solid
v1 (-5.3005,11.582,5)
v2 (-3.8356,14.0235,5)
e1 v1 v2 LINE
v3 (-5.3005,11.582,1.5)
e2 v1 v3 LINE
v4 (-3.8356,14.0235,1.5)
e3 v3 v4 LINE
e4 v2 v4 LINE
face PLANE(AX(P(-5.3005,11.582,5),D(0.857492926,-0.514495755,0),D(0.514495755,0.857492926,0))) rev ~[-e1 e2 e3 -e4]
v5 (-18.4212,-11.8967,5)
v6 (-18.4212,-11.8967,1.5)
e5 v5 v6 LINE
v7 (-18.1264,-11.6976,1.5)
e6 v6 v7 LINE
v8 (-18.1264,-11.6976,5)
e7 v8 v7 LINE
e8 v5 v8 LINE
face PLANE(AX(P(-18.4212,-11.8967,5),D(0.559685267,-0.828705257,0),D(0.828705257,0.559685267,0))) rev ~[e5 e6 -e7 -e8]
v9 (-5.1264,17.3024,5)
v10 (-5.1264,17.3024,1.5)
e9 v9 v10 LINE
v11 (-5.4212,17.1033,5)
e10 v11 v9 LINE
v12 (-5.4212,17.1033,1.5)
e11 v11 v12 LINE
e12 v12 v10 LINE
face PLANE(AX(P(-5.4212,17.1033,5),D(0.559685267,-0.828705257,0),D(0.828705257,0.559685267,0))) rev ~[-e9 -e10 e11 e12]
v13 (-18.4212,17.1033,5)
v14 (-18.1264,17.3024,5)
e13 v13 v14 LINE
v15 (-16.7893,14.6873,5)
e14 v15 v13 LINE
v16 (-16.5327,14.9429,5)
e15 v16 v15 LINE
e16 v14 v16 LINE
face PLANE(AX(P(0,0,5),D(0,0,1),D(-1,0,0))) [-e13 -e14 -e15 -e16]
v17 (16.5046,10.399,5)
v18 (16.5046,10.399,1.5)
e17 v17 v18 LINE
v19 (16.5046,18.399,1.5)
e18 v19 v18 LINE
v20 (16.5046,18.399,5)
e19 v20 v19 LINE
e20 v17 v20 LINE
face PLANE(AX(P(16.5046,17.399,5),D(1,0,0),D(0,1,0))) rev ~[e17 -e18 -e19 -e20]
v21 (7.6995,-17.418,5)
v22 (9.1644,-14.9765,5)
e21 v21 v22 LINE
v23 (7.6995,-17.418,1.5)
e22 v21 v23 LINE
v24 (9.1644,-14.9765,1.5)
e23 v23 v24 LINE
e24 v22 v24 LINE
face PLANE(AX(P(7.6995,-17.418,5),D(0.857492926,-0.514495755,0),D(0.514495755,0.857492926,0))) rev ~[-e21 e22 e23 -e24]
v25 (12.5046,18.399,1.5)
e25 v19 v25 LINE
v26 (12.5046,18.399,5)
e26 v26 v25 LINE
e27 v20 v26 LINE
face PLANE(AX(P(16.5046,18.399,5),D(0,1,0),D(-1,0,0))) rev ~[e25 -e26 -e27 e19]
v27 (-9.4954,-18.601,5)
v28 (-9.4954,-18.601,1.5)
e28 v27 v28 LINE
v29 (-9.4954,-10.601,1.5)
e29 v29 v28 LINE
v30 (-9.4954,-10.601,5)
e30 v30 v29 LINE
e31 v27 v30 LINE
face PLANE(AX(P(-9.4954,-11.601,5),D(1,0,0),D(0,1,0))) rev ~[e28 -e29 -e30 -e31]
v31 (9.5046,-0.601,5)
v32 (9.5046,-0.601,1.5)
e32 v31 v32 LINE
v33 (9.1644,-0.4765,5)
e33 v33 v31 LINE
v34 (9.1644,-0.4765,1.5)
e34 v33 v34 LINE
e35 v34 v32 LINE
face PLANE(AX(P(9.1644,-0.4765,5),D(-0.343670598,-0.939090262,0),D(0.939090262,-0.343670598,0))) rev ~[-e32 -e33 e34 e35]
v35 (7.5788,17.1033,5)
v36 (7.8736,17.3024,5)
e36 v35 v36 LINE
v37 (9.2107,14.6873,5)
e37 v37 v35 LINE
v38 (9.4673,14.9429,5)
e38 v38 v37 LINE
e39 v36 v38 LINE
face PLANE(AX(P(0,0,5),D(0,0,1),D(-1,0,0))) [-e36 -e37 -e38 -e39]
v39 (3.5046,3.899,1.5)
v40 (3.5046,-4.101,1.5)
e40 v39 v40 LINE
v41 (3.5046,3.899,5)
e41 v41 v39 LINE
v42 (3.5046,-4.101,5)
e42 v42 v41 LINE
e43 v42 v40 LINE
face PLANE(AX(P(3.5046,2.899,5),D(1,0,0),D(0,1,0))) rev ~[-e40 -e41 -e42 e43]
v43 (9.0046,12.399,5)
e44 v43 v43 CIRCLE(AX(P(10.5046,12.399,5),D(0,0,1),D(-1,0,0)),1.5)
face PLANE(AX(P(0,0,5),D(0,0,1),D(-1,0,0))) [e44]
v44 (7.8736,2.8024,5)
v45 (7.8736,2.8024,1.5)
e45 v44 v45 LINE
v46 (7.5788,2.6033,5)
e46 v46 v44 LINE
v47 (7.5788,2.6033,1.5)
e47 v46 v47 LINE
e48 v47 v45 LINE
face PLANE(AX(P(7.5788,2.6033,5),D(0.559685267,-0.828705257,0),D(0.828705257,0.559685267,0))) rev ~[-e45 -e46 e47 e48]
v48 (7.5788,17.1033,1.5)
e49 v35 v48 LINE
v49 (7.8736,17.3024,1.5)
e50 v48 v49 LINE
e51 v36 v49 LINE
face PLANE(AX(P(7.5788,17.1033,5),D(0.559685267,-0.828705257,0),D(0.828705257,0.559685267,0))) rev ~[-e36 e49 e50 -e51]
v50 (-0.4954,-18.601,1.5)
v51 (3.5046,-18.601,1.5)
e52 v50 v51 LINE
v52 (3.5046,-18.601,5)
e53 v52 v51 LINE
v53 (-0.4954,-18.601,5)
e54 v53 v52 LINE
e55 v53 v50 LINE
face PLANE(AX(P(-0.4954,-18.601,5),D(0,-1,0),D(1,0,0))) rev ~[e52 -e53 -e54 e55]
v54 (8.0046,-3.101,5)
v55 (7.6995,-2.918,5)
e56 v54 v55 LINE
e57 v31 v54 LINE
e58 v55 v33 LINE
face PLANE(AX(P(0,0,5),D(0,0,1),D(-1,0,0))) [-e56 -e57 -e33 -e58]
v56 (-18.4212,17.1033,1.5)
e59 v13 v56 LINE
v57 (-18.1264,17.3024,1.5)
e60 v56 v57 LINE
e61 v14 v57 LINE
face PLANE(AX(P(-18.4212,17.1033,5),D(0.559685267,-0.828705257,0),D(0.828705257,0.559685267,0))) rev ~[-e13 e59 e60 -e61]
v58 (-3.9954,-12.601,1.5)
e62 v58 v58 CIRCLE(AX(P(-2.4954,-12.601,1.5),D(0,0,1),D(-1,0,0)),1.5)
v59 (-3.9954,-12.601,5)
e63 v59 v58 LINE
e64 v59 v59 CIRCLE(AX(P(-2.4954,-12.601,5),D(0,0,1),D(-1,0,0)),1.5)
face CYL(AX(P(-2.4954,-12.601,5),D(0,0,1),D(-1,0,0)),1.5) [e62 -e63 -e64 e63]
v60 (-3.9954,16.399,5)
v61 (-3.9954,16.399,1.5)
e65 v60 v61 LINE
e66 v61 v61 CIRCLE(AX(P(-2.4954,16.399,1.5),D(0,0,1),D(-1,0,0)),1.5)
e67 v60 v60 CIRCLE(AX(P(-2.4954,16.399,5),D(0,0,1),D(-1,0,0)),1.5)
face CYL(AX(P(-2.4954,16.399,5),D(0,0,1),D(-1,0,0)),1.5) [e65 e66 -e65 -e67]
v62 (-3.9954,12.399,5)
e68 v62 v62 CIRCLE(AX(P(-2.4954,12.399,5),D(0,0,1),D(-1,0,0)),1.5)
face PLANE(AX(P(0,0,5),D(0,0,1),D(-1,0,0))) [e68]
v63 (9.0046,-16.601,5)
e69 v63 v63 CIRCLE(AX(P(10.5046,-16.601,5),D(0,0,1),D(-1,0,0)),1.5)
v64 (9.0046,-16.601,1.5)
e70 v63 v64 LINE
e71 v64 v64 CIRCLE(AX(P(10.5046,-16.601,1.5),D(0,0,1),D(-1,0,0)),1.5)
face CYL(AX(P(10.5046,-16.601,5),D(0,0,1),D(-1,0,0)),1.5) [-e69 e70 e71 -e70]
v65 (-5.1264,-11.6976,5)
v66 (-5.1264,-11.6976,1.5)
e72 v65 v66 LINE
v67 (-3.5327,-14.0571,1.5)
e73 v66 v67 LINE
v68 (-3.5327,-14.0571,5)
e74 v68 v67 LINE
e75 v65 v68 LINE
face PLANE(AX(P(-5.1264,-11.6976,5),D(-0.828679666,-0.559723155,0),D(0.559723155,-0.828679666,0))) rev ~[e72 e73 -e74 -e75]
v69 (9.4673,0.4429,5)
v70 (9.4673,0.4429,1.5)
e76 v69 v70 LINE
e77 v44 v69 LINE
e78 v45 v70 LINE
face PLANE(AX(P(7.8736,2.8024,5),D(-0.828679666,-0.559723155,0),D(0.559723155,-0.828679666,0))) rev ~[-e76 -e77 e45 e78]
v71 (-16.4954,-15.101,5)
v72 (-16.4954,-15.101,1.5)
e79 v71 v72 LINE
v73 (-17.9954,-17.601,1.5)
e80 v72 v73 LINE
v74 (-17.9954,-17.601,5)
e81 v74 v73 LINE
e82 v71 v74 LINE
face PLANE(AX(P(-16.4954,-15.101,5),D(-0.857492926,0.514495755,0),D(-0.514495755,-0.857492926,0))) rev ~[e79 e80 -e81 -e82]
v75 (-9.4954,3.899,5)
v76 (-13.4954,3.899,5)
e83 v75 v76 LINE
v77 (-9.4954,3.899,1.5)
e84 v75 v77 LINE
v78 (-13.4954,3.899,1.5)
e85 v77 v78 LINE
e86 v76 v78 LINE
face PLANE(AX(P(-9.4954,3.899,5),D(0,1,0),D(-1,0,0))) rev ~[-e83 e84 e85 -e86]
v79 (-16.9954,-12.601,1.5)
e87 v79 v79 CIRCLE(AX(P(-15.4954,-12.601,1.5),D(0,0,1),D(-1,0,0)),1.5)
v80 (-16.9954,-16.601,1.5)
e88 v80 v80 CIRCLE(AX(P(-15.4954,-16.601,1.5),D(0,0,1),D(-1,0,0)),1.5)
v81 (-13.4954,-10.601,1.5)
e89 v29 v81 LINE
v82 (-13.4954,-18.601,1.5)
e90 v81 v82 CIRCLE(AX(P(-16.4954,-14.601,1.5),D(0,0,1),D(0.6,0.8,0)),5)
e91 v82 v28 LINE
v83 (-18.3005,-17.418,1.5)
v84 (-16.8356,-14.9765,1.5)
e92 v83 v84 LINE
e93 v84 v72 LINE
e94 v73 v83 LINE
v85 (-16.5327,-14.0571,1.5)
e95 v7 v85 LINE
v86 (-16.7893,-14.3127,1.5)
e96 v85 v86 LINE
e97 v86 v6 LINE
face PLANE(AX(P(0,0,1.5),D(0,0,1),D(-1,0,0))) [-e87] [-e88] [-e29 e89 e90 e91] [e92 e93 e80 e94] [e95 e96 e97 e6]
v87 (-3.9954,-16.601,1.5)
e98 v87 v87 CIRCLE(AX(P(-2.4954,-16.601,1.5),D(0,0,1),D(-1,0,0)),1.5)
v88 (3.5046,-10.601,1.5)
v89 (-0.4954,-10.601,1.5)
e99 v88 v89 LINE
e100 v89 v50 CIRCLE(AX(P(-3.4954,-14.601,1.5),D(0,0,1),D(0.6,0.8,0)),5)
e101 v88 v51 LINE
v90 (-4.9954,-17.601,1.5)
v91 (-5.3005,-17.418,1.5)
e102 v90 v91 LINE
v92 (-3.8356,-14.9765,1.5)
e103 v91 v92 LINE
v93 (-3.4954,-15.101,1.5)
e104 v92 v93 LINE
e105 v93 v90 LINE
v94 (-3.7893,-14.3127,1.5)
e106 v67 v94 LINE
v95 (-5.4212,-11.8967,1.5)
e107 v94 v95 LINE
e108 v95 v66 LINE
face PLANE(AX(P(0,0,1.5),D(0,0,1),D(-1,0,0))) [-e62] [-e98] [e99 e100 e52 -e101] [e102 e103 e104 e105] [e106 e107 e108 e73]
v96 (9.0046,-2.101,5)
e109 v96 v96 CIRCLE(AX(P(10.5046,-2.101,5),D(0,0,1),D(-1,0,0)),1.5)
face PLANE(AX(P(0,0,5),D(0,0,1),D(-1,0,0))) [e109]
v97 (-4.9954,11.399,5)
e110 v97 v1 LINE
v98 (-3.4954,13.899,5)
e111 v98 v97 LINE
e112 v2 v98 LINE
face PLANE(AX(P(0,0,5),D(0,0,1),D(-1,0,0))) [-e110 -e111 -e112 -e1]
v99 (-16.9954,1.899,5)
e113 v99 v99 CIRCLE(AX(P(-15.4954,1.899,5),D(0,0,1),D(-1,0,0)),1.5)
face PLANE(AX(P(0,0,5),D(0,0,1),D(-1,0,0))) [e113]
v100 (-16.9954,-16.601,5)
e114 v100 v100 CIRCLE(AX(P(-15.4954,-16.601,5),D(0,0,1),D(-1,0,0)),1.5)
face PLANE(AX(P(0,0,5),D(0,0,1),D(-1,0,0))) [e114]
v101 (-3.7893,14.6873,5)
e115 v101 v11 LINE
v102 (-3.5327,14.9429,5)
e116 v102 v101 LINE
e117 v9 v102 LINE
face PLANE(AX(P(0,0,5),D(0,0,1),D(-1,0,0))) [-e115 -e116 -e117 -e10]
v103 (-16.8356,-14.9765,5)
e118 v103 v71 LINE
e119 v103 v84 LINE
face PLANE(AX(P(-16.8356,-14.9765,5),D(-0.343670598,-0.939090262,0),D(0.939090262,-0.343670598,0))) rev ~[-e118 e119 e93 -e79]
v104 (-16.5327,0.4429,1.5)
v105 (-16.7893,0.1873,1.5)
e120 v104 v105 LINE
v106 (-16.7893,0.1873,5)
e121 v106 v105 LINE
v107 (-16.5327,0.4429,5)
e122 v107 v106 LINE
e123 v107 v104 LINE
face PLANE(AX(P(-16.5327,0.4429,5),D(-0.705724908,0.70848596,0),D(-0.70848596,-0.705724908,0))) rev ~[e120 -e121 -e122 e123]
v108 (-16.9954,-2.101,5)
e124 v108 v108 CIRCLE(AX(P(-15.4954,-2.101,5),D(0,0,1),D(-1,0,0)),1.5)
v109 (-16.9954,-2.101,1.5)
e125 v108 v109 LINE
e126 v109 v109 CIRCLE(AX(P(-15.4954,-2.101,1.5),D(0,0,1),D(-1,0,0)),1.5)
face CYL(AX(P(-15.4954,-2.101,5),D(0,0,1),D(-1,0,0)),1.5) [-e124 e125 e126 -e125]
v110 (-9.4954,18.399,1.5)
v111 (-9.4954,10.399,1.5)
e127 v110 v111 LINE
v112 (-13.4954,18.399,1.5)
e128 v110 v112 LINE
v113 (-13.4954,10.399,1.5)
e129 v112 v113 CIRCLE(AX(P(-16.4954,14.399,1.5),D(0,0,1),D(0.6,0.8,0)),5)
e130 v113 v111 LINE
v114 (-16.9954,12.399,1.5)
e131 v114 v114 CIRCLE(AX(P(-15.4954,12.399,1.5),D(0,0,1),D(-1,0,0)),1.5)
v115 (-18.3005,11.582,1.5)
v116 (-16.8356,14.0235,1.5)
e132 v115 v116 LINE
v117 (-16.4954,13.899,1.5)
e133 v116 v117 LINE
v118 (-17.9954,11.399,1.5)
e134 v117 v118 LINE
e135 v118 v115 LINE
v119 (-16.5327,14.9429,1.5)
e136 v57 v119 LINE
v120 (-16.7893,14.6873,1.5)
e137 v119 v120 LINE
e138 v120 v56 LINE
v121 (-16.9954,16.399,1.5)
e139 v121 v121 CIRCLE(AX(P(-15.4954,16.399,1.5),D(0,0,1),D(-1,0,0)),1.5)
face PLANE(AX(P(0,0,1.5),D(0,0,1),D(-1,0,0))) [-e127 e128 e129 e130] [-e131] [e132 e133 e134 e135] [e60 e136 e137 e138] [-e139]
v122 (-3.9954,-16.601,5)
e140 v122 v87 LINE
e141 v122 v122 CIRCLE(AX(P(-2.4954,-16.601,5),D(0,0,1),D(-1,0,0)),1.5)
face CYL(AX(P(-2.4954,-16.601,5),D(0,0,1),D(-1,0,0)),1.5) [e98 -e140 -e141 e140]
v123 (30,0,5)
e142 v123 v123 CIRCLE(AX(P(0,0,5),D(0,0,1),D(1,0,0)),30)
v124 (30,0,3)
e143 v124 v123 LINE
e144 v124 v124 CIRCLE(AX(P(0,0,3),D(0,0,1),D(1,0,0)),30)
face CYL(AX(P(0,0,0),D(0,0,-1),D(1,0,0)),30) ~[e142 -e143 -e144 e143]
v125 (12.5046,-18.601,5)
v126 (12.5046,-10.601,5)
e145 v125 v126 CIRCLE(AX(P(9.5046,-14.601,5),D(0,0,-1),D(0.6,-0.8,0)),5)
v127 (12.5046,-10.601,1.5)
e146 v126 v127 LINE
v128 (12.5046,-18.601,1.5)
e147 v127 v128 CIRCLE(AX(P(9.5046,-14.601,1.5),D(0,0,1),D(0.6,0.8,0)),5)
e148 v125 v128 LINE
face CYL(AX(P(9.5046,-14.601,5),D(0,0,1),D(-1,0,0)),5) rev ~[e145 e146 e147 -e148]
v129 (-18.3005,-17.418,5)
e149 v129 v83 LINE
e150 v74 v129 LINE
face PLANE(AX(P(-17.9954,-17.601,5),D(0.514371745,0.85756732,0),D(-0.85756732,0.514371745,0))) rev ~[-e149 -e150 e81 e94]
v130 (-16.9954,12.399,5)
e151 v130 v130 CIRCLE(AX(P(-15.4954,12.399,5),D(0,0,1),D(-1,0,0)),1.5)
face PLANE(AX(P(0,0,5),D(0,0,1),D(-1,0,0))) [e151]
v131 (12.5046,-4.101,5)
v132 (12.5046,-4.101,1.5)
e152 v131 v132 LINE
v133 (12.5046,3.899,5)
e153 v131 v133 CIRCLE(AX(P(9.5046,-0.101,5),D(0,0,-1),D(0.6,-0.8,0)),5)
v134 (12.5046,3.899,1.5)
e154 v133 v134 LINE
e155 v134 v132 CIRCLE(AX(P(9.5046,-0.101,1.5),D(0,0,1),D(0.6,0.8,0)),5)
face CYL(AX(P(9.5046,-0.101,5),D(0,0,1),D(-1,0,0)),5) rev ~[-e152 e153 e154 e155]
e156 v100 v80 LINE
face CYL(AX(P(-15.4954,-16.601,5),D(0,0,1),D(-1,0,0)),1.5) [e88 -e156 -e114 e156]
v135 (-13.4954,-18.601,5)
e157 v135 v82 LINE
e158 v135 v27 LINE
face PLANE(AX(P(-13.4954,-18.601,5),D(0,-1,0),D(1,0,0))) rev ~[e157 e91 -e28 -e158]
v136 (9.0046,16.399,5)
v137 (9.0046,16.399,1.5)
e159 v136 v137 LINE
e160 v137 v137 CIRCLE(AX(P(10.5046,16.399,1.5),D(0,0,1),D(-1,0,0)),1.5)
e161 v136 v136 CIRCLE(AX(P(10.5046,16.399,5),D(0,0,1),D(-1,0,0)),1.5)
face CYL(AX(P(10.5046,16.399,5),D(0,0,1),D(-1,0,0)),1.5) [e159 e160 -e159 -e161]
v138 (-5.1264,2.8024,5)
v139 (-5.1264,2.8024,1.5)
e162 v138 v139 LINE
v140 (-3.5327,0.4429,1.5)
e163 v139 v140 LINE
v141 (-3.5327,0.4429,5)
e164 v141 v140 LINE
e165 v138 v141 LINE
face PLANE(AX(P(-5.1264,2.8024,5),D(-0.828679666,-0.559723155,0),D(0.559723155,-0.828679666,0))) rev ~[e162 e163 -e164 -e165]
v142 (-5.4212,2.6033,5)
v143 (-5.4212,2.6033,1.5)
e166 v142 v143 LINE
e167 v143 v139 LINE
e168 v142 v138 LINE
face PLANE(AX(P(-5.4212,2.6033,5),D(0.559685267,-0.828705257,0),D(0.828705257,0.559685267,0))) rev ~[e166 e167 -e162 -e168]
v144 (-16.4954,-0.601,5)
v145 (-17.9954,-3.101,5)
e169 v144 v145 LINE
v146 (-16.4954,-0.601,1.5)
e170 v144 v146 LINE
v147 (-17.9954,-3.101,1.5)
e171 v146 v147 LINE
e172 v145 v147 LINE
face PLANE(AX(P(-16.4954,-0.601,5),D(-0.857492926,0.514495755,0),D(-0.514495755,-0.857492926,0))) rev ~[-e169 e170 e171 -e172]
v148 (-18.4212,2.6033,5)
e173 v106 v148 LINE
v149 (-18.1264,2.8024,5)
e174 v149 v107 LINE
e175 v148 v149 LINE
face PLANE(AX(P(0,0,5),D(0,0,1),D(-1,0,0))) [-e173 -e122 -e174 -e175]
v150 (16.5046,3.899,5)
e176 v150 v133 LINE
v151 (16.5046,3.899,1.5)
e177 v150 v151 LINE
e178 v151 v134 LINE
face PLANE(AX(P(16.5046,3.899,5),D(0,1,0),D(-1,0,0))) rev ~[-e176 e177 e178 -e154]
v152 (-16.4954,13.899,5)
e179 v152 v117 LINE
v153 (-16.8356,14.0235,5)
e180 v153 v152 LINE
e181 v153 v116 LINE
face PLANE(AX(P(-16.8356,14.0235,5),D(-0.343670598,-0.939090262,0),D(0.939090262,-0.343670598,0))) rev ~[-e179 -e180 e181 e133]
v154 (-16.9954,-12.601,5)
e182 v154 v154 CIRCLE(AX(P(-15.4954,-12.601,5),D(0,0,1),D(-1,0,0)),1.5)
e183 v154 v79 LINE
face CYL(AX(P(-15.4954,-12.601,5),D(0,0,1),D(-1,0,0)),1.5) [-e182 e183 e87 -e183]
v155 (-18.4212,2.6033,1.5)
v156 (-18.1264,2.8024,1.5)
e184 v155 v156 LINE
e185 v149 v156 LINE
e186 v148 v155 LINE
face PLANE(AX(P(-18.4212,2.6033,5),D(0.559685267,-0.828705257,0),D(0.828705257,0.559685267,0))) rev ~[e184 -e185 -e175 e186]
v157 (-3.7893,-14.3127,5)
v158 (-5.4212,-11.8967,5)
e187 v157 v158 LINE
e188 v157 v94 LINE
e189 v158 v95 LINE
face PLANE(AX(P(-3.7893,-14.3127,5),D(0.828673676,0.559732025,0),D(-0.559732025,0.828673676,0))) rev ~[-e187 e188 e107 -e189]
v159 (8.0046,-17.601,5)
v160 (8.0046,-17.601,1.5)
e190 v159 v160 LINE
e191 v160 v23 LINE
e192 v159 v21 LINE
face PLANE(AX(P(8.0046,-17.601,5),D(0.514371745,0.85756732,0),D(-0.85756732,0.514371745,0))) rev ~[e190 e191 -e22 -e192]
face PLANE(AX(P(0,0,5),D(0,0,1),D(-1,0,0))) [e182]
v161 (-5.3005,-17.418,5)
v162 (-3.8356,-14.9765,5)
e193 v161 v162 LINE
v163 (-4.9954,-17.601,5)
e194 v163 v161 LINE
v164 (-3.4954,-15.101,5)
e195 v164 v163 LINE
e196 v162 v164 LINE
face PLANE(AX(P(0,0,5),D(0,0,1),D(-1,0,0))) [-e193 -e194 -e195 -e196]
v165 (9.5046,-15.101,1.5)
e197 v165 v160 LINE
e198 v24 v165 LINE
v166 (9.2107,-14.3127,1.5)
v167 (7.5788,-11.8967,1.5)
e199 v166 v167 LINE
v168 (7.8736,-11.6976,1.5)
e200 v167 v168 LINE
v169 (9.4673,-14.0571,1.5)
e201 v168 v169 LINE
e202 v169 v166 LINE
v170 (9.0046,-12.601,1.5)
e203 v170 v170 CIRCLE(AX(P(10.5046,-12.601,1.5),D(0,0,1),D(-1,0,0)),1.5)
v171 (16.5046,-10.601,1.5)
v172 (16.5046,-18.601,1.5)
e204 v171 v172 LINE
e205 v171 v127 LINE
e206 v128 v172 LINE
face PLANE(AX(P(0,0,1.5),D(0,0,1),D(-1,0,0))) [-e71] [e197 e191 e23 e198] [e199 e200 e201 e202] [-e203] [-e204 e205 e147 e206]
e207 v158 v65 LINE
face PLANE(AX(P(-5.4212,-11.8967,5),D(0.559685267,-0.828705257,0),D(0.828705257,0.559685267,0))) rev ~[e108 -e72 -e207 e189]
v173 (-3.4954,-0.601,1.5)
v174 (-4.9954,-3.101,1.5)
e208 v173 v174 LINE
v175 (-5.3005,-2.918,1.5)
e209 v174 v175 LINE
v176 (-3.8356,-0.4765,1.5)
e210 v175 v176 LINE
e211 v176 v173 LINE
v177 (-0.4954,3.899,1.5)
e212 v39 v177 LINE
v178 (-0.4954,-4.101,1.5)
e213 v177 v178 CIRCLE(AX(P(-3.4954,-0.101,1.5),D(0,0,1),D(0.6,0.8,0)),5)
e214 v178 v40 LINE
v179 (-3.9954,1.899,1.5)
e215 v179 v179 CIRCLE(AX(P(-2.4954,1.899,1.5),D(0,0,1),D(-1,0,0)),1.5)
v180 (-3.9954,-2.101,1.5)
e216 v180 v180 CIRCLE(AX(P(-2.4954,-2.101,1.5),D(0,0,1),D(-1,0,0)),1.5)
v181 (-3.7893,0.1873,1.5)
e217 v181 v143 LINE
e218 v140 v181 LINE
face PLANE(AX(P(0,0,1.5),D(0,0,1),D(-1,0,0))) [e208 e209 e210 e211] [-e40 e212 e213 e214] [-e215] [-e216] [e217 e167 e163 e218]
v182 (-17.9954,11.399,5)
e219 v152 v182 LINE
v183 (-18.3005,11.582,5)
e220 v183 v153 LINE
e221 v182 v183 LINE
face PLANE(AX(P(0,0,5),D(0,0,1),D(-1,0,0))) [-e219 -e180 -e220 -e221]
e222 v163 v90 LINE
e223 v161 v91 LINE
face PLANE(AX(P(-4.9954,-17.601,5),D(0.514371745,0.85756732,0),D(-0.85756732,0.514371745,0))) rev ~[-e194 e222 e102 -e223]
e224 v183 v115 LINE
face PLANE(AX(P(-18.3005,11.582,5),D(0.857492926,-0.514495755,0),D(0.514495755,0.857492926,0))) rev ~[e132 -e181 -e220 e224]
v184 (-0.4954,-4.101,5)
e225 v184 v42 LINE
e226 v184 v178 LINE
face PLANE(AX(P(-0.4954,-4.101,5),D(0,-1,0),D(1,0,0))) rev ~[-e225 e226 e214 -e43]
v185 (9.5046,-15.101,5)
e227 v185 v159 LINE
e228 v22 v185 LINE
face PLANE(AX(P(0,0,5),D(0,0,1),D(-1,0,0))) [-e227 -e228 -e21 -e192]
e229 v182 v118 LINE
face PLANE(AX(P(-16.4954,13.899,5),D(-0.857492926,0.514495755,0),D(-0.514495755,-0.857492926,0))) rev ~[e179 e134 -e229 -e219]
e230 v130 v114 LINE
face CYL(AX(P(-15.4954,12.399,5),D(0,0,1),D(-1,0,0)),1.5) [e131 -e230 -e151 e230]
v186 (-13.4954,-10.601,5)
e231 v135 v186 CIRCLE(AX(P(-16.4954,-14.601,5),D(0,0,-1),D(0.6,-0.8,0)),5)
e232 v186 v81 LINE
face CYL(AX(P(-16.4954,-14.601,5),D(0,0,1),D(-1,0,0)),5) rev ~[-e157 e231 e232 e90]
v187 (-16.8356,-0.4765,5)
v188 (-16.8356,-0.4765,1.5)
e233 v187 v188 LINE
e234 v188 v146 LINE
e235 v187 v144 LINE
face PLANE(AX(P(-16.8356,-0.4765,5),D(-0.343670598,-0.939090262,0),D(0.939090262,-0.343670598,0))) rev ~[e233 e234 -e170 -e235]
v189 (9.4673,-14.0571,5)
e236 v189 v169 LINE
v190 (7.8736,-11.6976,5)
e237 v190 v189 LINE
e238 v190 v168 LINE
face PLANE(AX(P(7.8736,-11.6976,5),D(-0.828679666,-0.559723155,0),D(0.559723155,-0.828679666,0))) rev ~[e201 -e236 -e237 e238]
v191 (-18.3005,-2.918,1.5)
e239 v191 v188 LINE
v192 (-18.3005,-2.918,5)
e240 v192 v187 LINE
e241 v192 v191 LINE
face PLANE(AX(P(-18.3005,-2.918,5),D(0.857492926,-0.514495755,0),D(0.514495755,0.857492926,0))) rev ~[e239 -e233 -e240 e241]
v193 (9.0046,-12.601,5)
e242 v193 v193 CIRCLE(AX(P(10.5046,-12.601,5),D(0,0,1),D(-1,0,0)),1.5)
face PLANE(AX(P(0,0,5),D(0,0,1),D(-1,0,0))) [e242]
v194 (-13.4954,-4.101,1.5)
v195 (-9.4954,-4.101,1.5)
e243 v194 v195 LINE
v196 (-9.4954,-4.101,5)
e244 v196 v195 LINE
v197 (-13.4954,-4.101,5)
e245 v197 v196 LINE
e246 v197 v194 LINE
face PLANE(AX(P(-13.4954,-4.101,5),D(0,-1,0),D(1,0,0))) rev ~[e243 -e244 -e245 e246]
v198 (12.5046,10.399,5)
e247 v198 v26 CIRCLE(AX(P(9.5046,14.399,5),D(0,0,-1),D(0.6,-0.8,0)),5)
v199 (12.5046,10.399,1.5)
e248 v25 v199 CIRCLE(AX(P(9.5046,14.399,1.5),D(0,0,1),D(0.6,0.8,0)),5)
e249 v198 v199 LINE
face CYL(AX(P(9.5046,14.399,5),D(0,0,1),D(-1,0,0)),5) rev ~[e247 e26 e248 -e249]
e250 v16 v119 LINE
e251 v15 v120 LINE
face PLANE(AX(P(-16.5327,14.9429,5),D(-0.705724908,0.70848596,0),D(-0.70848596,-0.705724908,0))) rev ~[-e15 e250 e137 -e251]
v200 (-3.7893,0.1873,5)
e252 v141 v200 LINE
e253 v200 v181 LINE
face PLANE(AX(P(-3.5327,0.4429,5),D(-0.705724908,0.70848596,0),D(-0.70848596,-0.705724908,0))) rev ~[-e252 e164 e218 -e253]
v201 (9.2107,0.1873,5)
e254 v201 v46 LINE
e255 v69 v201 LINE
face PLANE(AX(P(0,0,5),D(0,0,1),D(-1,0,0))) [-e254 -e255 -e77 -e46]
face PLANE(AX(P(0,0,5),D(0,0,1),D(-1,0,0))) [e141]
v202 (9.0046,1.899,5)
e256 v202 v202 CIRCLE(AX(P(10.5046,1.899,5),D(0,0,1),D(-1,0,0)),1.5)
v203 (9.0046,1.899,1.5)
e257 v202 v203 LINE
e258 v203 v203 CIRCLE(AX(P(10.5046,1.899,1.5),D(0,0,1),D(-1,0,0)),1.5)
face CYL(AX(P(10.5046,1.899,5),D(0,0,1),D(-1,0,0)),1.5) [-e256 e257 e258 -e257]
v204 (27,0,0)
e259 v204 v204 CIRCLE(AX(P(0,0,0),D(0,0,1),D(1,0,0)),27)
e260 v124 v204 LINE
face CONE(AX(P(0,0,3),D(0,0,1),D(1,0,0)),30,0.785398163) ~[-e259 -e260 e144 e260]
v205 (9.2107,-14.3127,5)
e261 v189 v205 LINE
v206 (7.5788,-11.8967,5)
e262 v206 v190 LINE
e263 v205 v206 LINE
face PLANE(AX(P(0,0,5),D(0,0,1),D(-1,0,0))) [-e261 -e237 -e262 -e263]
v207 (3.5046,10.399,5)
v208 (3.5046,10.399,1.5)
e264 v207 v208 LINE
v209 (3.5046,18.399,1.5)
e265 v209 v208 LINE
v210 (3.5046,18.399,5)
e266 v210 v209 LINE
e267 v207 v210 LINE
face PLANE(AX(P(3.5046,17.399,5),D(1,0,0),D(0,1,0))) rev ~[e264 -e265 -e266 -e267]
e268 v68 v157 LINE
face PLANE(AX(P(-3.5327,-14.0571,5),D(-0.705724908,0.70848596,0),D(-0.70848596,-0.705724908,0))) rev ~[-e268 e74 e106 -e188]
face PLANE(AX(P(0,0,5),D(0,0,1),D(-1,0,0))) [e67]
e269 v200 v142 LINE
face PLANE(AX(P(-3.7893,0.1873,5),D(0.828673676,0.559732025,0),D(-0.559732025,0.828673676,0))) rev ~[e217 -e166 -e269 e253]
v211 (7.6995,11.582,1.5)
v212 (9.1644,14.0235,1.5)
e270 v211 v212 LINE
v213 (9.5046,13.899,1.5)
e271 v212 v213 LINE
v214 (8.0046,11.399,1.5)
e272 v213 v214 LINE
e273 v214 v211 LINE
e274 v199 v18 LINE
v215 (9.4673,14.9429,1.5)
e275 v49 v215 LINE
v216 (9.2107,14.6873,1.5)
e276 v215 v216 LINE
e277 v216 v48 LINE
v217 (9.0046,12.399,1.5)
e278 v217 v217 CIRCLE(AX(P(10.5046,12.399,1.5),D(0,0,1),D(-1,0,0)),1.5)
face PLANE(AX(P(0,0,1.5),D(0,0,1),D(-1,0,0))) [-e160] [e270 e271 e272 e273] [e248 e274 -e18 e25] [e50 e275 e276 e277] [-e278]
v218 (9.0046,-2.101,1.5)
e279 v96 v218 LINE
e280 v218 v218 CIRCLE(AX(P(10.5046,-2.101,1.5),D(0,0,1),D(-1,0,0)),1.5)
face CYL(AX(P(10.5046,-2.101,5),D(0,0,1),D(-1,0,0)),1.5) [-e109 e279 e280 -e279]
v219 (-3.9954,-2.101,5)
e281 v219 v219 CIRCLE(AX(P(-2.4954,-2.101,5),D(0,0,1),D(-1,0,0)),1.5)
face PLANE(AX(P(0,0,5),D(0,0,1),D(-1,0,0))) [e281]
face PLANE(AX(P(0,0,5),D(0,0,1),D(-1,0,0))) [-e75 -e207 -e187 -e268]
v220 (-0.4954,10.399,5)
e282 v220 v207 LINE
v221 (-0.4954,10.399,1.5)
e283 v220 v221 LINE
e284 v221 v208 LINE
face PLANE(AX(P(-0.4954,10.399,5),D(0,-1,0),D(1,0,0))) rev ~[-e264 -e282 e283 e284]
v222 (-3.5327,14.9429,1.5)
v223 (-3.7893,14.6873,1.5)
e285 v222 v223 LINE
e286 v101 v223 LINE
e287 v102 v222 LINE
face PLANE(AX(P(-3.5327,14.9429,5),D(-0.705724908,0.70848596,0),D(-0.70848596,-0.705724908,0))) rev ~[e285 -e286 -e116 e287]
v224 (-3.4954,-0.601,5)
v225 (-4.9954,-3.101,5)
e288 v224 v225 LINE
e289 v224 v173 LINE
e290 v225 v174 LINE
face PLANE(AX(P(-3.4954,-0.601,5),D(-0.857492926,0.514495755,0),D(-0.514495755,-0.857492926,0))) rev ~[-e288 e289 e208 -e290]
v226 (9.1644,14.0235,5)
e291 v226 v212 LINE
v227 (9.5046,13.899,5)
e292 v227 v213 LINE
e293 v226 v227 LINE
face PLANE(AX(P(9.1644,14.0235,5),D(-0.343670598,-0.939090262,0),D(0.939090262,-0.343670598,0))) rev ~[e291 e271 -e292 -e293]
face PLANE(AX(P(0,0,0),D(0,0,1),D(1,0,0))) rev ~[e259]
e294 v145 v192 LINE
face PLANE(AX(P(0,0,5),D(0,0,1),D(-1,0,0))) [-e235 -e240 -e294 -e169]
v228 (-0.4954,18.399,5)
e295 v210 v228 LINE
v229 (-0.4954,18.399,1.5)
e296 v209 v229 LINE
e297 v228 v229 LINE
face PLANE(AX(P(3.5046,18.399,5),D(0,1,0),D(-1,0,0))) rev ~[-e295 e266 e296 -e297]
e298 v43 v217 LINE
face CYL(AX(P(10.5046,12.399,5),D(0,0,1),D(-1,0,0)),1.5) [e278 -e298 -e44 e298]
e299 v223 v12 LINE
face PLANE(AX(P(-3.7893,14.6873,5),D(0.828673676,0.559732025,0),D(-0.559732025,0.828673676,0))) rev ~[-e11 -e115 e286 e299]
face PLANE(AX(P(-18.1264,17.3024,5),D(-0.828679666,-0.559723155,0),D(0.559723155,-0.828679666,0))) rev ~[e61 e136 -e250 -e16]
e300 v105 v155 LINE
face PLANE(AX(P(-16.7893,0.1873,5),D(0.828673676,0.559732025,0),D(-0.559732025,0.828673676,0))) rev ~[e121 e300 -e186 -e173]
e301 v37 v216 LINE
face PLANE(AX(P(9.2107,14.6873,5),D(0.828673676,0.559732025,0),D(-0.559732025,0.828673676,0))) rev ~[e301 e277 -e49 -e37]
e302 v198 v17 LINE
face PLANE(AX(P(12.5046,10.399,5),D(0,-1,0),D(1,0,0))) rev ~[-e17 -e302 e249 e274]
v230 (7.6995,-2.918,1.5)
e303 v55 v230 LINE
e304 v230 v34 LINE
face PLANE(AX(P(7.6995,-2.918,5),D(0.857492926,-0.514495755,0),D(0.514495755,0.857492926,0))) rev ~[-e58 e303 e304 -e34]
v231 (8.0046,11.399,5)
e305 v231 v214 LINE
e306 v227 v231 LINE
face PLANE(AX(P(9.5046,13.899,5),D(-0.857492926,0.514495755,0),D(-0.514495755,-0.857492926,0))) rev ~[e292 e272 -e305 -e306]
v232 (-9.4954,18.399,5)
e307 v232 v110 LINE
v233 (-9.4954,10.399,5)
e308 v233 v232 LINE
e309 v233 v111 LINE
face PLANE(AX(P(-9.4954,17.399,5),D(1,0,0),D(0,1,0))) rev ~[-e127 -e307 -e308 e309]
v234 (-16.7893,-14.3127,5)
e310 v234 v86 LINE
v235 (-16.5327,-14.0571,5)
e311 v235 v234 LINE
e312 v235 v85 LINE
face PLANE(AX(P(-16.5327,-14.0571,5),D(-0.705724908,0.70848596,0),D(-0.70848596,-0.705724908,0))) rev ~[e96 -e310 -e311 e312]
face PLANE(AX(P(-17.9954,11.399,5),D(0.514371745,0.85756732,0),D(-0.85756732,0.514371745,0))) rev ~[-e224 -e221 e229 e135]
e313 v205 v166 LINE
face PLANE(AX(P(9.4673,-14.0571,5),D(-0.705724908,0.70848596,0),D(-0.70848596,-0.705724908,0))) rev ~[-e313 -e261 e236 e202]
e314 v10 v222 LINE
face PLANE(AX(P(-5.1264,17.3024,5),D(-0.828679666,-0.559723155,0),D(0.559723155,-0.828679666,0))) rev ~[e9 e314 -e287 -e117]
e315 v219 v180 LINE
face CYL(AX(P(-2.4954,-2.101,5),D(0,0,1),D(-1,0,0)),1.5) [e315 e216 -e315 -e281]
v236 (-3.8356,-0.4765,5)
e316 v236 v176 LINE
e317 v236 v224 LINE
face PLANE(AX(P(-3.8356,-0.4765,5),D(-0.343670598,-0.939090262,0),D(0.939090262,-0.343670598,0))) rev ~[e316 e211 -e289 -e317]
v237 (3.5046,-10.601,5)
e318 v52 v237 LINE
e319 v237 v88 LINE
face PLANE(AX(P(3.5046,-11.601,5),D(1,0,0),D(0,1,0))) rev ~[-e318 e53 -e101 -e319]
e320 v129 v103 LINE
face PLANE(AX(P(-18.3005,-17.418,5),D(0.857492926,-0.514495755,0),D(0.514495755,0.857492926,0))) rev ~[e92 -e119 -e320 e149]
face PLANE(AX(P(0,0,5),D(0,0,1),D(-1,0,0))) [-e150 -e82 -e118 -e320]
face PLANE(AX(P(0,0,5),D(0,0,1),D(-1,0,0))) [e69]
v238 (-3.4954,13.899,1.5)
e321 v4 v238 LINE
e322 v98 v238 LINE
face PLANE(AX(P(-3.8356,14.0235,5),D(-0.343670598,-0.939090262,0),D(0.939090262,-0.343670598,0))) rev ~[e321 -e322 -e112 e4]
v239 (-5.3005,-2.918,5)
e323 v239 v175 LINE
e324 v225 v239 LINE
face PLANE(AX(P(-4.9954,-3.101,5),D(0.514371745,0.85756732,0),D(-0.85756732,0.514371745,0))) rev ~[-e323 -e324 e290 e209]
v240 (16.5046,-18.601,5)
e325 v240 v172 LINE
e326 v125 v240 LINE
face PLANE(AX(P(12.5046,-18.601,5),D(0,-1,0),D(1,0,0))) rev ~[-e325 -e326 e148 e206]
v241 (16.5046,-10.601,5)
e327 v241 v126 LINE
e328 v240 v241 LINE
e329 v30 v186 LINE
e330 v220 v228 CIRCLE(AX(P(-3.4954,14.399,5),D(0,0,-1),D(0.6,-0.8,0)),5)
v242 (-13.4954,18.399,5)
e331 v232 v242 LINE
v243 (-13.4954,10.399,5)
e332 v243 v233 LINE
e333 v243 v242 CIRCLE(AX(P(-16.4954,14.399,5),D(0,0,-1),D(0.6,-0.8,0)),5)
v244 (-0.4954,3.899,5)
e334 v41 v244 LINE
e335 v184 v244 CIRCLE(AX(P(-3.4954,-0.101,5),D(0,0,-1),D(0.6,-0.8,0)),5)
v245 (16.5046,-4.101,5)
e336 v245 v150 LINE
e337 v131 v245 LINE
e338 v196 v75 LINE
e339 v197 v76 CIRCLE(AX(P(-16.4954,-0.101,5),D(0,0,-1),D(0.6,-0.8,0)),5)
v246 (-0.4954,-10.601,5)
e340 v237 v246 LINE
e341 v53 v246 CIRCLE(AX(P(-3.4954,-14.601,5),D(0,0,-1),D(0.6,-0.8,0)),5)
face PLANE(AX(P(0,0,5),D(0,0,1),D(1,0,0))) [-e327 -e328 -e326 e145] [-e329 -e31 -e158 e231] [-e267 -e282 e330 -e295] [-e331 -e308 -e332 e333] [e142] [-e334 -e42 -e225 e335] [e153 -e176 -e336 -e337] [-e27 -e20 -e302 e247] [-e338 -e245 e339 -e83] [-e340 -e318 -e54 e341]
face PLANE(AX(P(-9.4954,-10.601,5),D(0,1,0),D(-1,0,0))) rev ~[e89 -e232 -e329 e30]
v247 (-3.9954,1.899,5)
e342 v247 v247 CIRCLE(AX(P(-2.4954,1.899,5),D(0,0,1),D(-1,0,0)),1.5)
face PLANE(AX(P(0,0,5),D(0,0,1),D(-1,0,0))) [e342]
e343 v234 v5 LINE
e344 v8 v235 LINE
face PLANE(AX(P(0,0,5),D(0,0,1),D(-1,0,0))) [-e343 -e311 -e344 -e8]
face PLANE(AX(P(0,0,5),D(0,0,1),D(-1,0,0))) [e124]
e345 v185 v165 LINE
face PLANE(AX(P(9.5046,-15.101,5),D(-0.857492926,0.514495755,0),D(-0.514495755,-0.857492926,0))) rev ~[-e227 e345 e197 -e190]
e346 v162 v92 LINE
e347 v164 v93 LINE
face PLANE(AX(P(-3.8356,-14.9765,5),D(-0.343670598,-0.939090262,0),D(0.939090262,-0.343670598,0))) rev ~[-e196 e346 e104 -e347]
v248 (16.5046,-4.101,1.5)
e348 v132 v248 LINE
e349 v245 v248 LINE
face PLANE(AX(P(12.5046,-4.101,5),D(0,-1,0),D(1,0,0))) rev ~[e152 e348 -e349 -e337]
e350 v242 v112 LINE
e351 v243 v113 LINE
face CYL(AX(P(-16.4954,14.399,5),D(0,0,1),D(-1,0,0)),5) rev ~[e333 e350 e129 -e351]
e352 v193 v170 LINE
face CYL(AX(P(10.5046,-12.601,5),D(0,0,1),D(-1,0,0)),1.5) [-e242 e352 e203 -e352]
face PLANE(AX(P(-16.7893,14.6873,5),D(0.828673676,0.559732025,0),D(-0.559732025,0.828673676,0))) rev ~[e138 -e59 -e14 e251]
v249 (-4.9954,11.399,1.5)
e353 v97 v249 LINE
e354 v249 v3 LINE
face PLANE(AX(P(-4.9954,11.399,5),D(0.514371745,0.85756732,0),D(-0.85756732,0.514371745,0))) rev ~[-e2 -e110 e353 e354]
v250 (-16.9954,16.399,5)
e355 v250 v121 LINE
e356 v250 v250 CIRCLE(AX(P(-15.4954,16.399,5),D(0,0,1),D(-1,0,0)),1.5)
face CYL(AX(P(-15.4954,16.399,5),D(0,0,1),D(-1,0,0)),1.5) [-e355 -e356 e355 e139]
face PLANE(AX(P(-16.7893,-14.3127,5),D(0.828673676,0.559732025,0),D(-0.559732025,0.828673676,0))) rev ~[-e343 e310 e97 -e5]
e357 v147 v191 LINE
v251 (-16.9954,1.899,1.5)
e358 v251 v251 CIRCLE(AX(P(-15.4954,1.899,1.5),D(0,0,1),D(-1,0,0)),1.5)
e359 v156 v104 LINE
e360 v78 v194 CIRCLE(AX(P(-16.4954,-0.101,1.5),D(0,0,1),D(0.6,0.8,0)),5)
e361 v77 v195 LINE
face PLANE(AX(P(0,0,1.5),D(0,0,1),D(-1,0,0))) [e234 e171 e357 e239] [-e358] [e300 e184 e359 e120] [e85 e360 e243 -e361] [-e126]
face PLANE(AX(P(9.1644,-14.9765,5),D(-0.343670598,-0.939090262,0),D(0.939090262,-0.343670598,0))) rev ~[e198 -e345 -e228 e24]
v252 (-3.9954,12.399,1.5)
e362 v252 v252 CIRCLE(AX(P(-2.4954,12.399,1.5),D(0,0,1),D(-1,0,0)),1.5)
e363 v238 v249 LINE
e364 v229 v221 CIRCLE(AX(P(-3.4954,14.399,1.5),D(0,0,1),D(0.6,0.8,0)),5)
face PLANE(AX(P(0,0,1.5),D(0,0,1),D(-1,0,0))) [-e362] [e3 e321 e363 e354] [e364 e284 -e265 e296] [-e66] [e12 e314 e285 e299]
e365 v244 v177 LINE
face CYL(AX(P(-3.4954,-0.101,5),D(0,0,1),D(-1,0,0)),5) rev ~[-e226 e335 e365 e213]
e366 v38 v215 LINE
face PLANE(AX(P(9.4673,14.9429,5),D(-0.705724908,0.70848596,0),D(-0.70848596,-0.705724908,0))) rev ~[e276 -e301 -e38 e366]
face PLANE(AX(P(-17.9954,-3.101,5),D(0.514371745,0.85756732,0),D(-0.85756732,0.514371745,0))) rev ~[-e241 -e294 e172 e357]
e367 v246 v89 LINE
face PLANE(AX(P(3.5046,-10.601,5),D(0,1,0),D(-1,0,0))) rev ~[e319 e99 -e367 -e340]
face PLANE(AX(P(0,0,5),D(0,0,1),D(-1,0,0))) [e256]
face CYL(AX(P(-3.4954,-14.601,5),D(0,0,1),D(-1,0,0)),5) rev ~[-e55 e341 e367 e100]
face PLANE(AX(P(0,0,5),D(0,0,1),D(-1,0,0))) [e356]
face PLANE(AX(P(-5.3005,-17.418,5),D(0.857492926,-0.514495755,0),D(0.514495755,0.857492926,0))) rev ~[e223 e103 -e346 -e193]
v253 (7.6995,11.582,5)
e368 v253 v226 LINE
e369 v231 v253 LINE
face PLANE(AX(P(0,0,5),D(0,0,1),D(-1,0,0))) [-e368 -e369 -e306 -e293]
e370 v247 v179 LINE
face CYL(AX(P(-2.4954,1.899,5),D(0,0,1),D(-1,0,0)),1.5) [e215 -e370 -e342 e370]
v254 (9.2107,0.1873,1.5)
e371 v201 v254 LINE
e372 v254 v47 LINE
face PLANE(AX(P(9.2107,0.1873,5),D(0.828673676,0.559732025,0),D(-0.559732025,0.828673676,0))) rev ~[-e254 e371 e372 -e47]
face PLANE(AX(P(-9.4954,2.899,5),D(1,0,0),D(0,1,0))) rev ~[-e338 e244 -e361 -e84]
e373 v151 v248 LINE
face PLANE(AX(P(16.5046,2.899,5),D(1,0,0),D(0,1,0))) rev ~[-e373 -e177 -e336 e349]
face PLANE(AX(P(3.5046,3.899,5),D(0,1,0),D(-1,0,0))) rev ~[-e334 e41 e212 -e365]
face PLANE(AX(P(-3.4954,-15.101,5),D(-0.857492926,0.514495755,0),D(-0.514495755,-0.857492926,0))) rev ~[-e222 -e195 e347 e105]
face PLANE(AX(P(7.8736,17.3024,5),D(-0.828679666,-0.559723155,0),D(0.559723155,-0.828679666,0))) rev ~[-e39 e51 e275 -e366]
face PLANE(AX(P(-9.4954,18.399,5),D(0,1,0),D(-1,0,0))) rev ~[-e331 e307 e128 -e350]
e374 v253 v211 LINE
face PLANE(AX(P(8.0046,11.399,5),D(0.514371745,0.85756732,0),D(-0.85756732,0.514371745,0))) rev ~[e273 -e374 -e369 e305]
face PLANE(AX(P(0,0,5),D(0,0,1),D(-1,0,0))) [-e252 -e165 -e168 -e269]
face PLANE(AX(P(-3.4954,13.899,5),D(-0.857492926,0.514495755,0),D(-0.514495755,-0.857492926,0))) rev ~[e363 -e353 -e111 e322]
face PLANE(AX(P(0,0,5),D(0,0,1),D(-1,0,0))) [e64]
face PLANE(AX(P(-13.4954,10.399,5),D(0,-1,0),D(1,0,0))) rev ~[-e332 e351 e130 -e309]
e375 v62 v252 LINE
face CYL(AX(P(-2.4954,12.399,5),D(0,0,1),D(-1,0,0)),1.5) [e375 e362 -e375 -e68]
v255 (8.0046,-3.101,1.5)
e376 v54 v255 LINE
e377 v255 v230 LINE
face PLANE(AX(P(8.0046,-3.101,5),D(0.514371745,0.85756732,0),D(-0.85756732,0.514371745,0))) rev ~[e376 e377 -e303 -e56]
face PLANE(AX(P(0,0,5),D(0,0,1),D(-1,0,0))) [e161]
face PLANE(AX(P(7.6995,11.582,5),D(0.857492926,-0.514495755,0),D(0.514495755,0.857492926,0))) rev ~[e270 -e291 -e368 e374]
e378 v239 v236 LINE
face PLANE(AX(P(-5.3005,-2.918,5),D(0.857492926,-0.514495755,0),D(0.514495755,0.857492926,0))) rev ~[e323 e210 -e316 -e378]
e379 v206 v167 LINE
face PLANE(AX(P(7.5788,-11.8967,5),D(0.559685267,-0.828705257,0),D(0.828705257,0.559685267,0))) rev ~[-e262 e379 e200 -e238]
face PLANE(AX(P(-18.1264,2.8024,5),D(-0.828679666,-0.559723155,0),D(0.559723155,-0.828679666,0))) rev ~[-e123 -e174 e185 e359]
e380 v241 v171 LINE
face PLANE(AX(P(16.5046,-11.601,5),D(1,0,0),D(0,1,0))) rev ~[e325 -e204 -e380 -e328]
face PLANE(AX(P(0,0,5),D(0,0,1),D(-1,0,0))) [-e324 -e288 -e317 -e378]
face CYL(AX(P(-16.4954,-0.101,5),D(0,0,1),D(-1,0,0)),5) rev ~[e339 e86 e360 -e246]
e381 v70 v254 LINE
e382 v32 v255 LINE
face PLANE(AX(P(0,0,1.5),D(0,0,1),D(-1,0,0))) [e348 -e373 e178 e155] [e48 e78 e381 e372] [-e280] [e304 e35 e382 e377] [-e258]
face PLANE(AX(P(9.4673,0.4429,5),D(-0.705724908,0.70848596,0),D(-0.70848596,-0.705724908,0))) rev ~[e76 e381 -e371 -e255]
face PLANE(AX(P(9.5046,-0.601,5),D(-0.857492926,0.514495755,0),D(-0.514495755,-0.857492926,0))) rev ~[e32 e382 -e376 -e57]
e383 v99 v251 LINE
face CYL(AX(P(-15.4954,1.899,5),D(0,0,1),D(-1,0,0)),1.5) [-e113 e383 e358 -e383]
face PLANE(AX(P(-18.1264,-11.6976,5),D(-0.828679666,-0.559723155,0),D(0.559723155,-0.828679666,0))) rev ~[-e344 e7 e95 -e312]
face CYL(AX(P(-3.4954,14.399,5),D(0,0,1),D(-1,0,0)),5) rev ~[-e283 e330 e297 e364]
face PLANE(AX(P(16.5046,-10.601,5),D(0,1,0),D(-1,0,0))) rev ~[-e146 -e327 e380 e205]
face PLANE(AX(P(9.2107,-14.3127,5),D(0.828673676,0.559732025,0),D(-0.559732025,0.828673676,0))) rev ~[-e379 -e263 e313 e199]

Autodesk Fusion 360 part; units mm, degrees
sketch "Sketch1" plane through (0, 0, 0) normal (0, 0, 1) x (1, 0, 0)
  circle A0 centre (0, 0) radius 30
extrude "Extrude1" add sketch "Sketch1" along normal blind 5
sketch "Sketch2" plane through (0, 0, 5) normal (0, 0, 1) x (-1, 0, 0)
  circle A0 centre (0, 0) radius 30
  circle A1 centre (16.4954, -14.399) radius 5
  line L0 (13.4954, -10.399) -> (9.4954, -10.399)
  line L1 (9.4954, -10.399) -> (9.4954, -18.399)
  line L2 (9.4954, -18.399) -> (13.4954, -18.399)
  line L3 (12.4954, -11.399) -> (9.4954, -11.399)
  line L4 (9.4954, -12.399) -> (11.9128, -12.399)
  line L5 (9.4954, -13.399) -> (11.5964, -13.399)
  line L6 (9.4954, -14.399) -> (11.4954, -14.399)
  line L7 (9.4954, -15.399) -> (11.5964, -15.399)
  line L8 (9.4954, -16.399) -> (11.9128, -16.399)
  line L9 (9.4954, -17.399) -> (12.4954, -17.399)
  circle A2 centre (15.4954, -12.399) radius 1.5
  circle A3 centre (15.4954, -16.399) radius 1.5
  line L10 (16.4954, -13.899) -> (17.9954, -11.399)
  line L11 (17.9954, -11.399) -> (18.3005, -11.582)
  line L12 (18.3005, -11.582) -> (16.8356, -14.0235)
  line L13 (16.8356, -14.0235) -> (16.4954, -13.899)
  line L14 (18.4212, -17.1033) -> (18.1264, -17.3024)
  line L15 (16.5327, -14.9429) -> (16.7893, -14.6873)
  line L16 (18.1264, -17.3024) -> (16.5327, -14.9429)
  line L17 (16.7893, -14.6873) -> (18.4212, -17.1033)
  circle A4 centre (3.4954, -14.399) radius 5
  line L18 (-3.5046, -17.399) -> (-0.5046, -17.399)
  circle A5 centre (2.4954, -12.399) radius 1.5
  line L19 (-3.5046, -14.399) -> (-1.5046, -14.399)
  line L20 (-3.5046, -15.399) -> (-1.4036, -15.399)
  line L21 (0.4954, -10.399) -> (-3.5046, -10.399)
  line L22 (-3.5046, -13.399) -> (-1.4036, -13.399)
  circle A6 centre (2.4954, -16.399) radius 1.5
  line L23 (3.5327, -14.9429) -> (3.7893, -14.6873)
  line L24 (4.9954, -11.399) -> (5.3005, -11.582)
  line L25 (3.7893, -14.6873) -> (5.4212, -17.1033)
  line L26 (5.3005, -11.582) -> (3.8356, -14.0235)
  line L27 (-0.5046, -11.399) -> (-3.5046, -11.399)
  line L28 (-3.5046, -10.399) -> (-3.5046, -18.399)
  line L29 (-3.5046, -16.399) -> (-1.0872, -16.399)
  line L30 (3.8356, -14.0235) -> (3.4954, -13.899)
  line L31 (3.4954, -13.899) -> (4.9954, -11.399)
  line L32 (5.4212, -17.1033) -> (5.1264, -17.3024)
  line L33 (5.1264, -17.3024) -> (3.5327, -14.9429)
  line L34 (-3.5046, -12.399) -> (-1.0872, -12.399)
  line L35 (-3.5046, -18.399) -> (0.4954, -18.399)
  circle A7 centre (-9.5046, -14.399) radius 5
  line L36 (-16.5046, -17.399) -> (-13.5046, -17.399)
  circle A8 centre (-10.5046, -12.399) radius 1.5
  line L37 (-16.5046, -14.399) -> (-14.5046, -14.399)
  line L38 (-16.5046, -15.399) -> (-14.4036, -15.399)
  line L39 (-12.5046, -10.399) -> (-16.5046, -10.399)
  line L40 (-16.5046, -13.399) -> (-14.4036, -13.399)
  circle A9 centre (-10.5046, -16.399) radius 1.5
  line L41 (-9.4673, -14.9429) -> (-9.2107, -14.6873)
  line L42 (-8.0046, -11.399) -> (-7.6995, -11.582)
  line L43 (-9.2107, -14.6873) -> (-7.5788, -17.1033)
  line L44 (-7.6995, -11.582) -> (-9.1644, -14.0235)
  line L45 (-13.5046, -11.399) -> (-16.5046, -11.399)
  line L46 (-16.5046, -10.399) -> (-16.5046, -18.399)
  line L47 (-16.5046, -16.399) -> (-14.0872, -16.399)
  line L48 (-9.1644, -14.0235) -> (-9.5046, -13.899)
  line L49 (-9.5046, -13.899) -> (-8.0046, -11.399)
  line L50 (-7.5788, -17.1033) -> (-7.8736, -17.3024)
  line L51 (-7.8736, -17.3024) -> (-9.4673, -14.9429)
  line L52 (-16.5046, -12.399) -> (-14.0872, -12.399)
  line L53 (-16.5046, -18.399) -> (-12.5046, -18.399)
  circle A10 centre (16.4954, 0.101) radius 5
  line L54 (9.4954, -2.899) -> (12.4954, -2.899)
  circle A11 centre (15.4954, 2.101) radius 1.5
  line L55 (9.4954, 0.101) -> (11.4954, 0.101)
  line L56 (9.4954, -0.899) -> (11.5964, -0.899)
  line L57 (13.4954, 4.101) -> (9.4954, 4.101)
  line L58 (9.4954, 1.101) -> (11.5964, 1.101)
  circle A12 centre (15.4954, -1.899) radius 1.5
  line L59 (16.5327, -0.4429) -> (16.7893, -0.1873)
  line L60 (17.9954, 3.101) -> (18.3005, 2.918)
  line L61 (16.7893, -0.1873) -> (18.4212, -2.6033)
  line L62 (18.3005, 2.918) -> (16.8356, 0.4765)
  line L63 (12.4954, 3.101) -> (9.4954, 3.101)
  line L64 (9.4954, 4.101) -> (9.4954, -3.899)
  line L65 (9.4954, -1.899) -> (11.9128, -1.899)
  line L66 (16.8356, 0.4765) -> (16.4954, 0.601)
  line L67 (16.4954, 0.601) -> (17.9954, 3.101)
  line L68 (18.4212, -2.6033) -> (18.1264, -2.8024)
  line L69 (18.1264, -2.8024) -> (16.5327, -0.4429)
  line L70 (9.4954, 2.101) -> (11.9128, 2.101)
  line L71 (9.4954, -3.899) -> (13.4954, -3.899)
  circle A13 centre (3.4954, 0.101) radius 5
  line L72 (-3.5046, -2.899) -> (-0.5046, -2.899)
  circle A14 centre (2.4954, 2.101) radius 1.5
  line L73 (-3.5046, 0.101) -> (-1.5046, 0.101)
  line L74 (-3.5046, -0.899) -> (-1.4036, -0.899)
  line L75 (0.4954, 4.101) -> (-3.5046, 4.101)
  line L76 (-3.5046, 1.101) -> (-1.4036, 1.101)
  circle A15 centre (2.4954, -1.899) radius 1.5
  line L77 (3.5327, -0.4429) -> (3.7893, -0.1873)
  line L78 (4.9954, 3.101) -> (5.3005, 2.918)
  line L79 (3.7893, -0.1873) -> (5.4212, -2.6033)
  line L80 (5.3005, 2.918) -> (3.8356, 0.4765)
  line L81 (-0.5046, 3.101) -> (-3.5046, 3.101)
  line L82 (-3.5046, 4.101) -> (-3.5046, -3.899)
  line L83 (-3.5046, -1.899) -> (-1.0872, -1.899)
  line L84 (3.8356, 0.4765) -> (3.4954, 0.601)
  line L85 (3.4954, 0.601) -> (4.9954, 3.101)
  line L86 (5.4212, -2.6033) -> (5.1264, -2.8024)
  line L87 (5.1264, -2.8024) -> (3.5327, -0.4429)
  line L88 (-3.5046, 2.101) -> (-1.0872, 2.101)
  line L89 (-3.5046, -3.899) -> (0.4954, -3.899)
  circle A16 centre (-9.5046, 0.101) radius 5
  line L90 (-16.5046, -2.899) -> (-13.5046, -2.899)
  circle A17 centre (-10.5046, 2.101) radius 1.5
  line L91 (-16.5046, 0.101) -> (-14.5046, 0.101)
  line L92 (-16.5046, -0.899) -> (-14.4036, -0.899)
  line L93 (-12.5046, 4.101) -> (-16.5046, 4.101)
  line L94 (-16.5046, 1.101) -> (-14.4036, 1.101)
  circle A18 centre (-10.5046, -1.899) radius 1.5
  line L95 (-9.4673, -0.4429) -> (-9.2107, -0.1873)
  line L96 (-8.0046, 3.101) -> (-7.6995, 2.918)
  line L97 (-9.2107, -0.1873) -> (-7.5788, -2.6033)
  line L98 (-7.6995, 2.918) -> (-9.1644, 0.4765)
  line L99 (-13.5046, 3.101) -> (-16.5046, 3.101)
  line L100 (-16.5046, 4.101) -> (-16.5046, -3.899)
  line L101 (-16.5046, -1.899) -> (-14.0872, -1.899)
  line L102 (-9.1644, 0.4765) -> (-9.5046, 0.601)
  line L103 (-9.5046, 0.601) -> (-8.0046, 3.101)
  line L104 (-7.5788, -2.6033) -> (-7.8736, -2.8024)
  line L105 (-7.8736, -2.8024) -> (-9.4673, -0.4429)
  line L106 (-16.5046, 2.101) -> (-14.0872, 2.101)
  line L107 (-16.5046, -3.899) -> (-12.5046, -3.899)
  circle A19 centre (16.4954, 14.601) radius 5
  line L108 (9.4954, 11.601) -> (12.4954, 11.601)
  circle A20 centre (15.4954, 16.601) radius 1.5
  line L109 (9.4954, 14.601) -> (11.4954, 14.601)
  line L110 (9.4954, 13.601) -> (11.5964, 13.601)
  line L111 (13.4954, 18.601) -> (9.4954, 18.601)
  line L112 (9.4954, 15.601) -> (11.5964, 15.601)
  circle A21 centre (15.4954, 12.601) radius 1.5
  line L113 (16.5327, 14.0571) -> (16.7893, 14.3127)
  line L114 (17.9954, 17.601) -> (18.3005, 17.418)
  line L115 (16.7893, 14.3127) -> (18.4212, 11.8967)
  line L116 (18.3005, 17.418) -> (16.8356, 14.9765)
  line L117 (12.4954, 17.601) -> (9.4954, 17.601)
  line L118 (9.4954, 18.601) -> (9.4954, 10.601)
  line L119 (9.4954, 12.601) -> (11.9128, 12.601)
  line L120 (16.8356, 14.9765) -> (16.4954, 15.101)
  line L121 (16.4954, 15.101) -> (17.9954, 17.601)
  line L122 (18.4212, 11.8967) -> (18.1264, 11.6976)
  line L123 (18.1264, 11.6976) -> (16.5327, 14.0571)
  line L124 (9.4954, 16.601) -> (11.9128, 16.601)
  line L125 (9.4954, 10.601) -> (13.4954, 10.601)
  circle A22 centre (3.4954, 14.601) radius 5
  line L126 (-3.5046, 11.601) -> (-0.5046, 11.601)
  circle A23 centre (2.4954, 16.601) radius 1.5
  line L127 (-3.5046, 14.601) -> (-1.5046, 14.601)
  line L128 (-3.5046, 13.601) -> (-1.4036, 13.601)
  line L129 (0.4954, 18.601) -> (-3.5046, 18.601)
  line L130 (-3.5046, 15.601) -> (-1.4036, 15.601)
  circle A24 centre (2.4954, 12.601) radius 1.5
  line L131 (3.5327, 14.0571) -> (3.7893, 14.3127)
  line L132 (4.9954, 17.601) -> (5.3005, 17.418)
  line L133 (3.7893, 14.3127) -> (5.4212, 11.8967)
  line L134 (5.3005, 17.418) -> (3.8356, 14.9765)
  line L135 (-0.5046, 17.601) -> (-3.5046, 17.601)
  line L136 (-3.5046, 18.601) -> (-3.5046, 10.601)
  line L137 (-3.5046, 12.601) -> (-1.0872, 12.601)
  line L138 (3.8356, 14.9765) -> (3.4954, 15.101)
  line L139 (3.4954, 15.101) -> (4.9954, 17.601)
  line L140 (5.4212, 11.8967) -> (5.1264, 11.6976)
  line L141 (5.1264, 11.6976) -> (3.5327, 14.0571)
  line L142 (-3.5046, 16.601) -> (-1.0872, 16.601)
  line L143 (-3.5046, 10.601) -> (0.4954, 10.601)
  circle A25 centre (-9.5046, 14.601) radius 5
  line L144 (-16.5046, 11.601) -> (-13.5046, 11.601)
  circle A26 centre (-10.5046, 16.601) radius 1.5
  line L145 (-16.5046, 14.601) -> (-14.5046, 14.601)
  line L146 (-16.5046, 13.601) -> (-14.4036, 13.601)
  line L147 (-12.5046, 18.601) -> (-16.5046, 18.601)
  line L148 (-16.5046, 15.601) -> (-14.4036, 15.601)
  circle A27 centre (-10.5046, 12.601) radius 1.5
  line L149 (-9.4673, 14.0571) -> (-9.2107, 14.3127)
  line L150 (-8.0046, 17.601) -> (-7.6995, 17.418)
  line L151 (-9.2107, 14.3127) -> (-7.5788, 11.8967)
  line L152 (-7.6995, 17.418) -> (-9.1644, 14.9765)
  line L153 (-13.5046, 17.601) -> (-16.5046, 17.601)
  line L154 (-16.5046, 18.601) -> (-16.5046, 10.601)
  line L155 (-16.5046, 12.601) -> (-14.0872, 12.601)
  line L156 (-9.1644, 14.9765) -> (-9.5046, 15.101)
  line L157 (-9.5046, 15.101) -> (-8.0046, 17.601)
  line L158 (-7.5788, 11.8967) -> (-7.8736, 11.6976)
  line L159 (-7.8736, 11.6976) -> (-9.4673, 14.0571)
  line L160 (-16.5046, 16.601) -> (-14.0872, 16.601)
  line L161 (-16.5046, 10.601) -> (-12.5046, 10.601)
  point P0 (16.3362, -14.476)
  point P1 (3.3362, -14.476)
  point P2 (-9.6638, -14.476)
  point P3 (16.3362, 0.024)
  point P4 (3.3362, 0.024)
  point P5 (-9.6638, 0.024)
  point P6 (16.3362, 14.524)
  point P7 (3.3362, 14.524)
  point P8 (-9.6638, 14.524)
  dimension "d5" = -26
  dimension "d6" = 29
extrude "Extrude2" cut sketch "Sketch2" against normal blind 3.5 contours A1 | A1 L0 L1 L3 | A1 L1 L2 L9 | A1 L1 L3 L4 | A1 L1 L8 L9 | A1 L1 L4 L5 | A1 L1 L7 L8 | A1 L1 L5 L6 | A1 L1 L6 L7 | A2 | A3 | L10 L11 L12 L13 | L14 L15 L16 L17 | A4 | A4 L21 L27 L28 | A4 L18 L28 L35 | A4 L27 L28 L34 | A4 L18 L28 L29 | A4 L22 L28 L34 | A4 L20 L28 L29 | A4 L19 L22 L28 | A4 L19 L20 L28 | A5 | A6 | L23 L25 L32 L33 | L24 L26 L30 L31 | A7 | A7 L39 L45 L46 | A7 L36 L46 L53 | A7 L45 L46 L52 | A7 L36 L46 L47 | A7 L40 L46 L52 | A7 L38 L46 L47 | A7 L37 L40 L46 | A7 L37 L38 L46 | A8 | A9 | L41 L43 L50 L51 | L42 L44 L48 L49 | A10 | A10 L57 L63 L64 | A10 L54 L64 L71 | A10 L63 L64 L70 | A10 L54 L64 L65 | A10 L58 L64 L70 | A10 L56 L64 L65 | A10 L55 L58 L64 | A10 L55 L56 L64 | A11 | A12 | L59 L61 L68 L69 | L60 L62 L66 L67 | A13 | A13 L75 L81 L82 | A13 L72 L82 L89 | A13 L81 L82 L88 | A13 L72 L82 L83 | A13 L76 L82 L88 | A13 L74 L82 L83 | A13 L73 L76 L82 | A13 L73 L74 L82 | A14 | A15 | L77 L79 L86 L87 | L78 L80 L84 L85 | A16 | A16 L93 L99 L100 | A16 L90 L100 L107 | A16 L99 L100 L106 | A16 L90 L100 L101 | A16 L94 L100 L106 | A16 L92 L100 L101 | A16 L91 L94 L100 | A16 L91 L92 L100 | A17 | A18 | L95 L97 L104 L105 | L96 L98 L102 L103 | A19 | A19 L111 L117 L118 | A19 L108 L118 L125 | A19 L117 L118 L124 | A19 L108 L118 L119 | A19 L112 L118 L124 | A19 L110 L118 L119 | A19 L109 L112 L118 | A19 L109 L110 L118 | A20 | A21 | L113 L115 L122 L123 | L114 L116 L120 L121 | A22 | A22 L129 L135 L136 | A22 L126 L136 L143 | A22 L135 L136 L142 | A22 L126 L136 L137 | A22 L130 L136 L142 | A22 L128 L136 L137 | A22 L127 L130 L136 | A22 L127 L128 L136 | A23 | A24 | L131 L133 L140 L141 | L132 L134 L138 L139 | A25 | A25 L147 L153 L154 | A25 L144 L154 L161 | A25 L153 L154 L160 | A25 L144 L154 L155 | A25 L148 L154 L160 | A25 L146 L154 L155 | A25 L145 L148 L154 | A25 L145 L146 L154 | A26 | A27 | L149 L151 L158 L159 | L150 L152 L156 L157
extrude "Extrude3" add sketch "Sketch2" against normal blind 4 contours A2 | A3 | L10 L11 L12 L13 | L14 L15 L16 L17 | A5 | A6 | L23 L25 L32 L33 | L24 L26 L30 L31 | A8 | A9 | L41 L43 L50 L51 | L42 L44 L48 L49 | A11 | A12 | L59 L61 L68 L69 | L60 L62 L66 L67 | A14 | A15 | L77 L79 L86 L87 | L78 L80 L84 L85 | A17 | A18 | L95 L97 L104 L105 | L96 L98 L102 L103 | A20 | A21 | L113 L115 L122 L123 | L114 L116 L120 L121 | A23 | A24 | L131 L133 L140 L141 | L132 L134 L138 L139 | A26 | A27 | L149 L151 L158 L159 | L150 L152 L156 L157
chamfer "Chamfer1" distance 3 angle 45 1 edges at (-27.9698, -10.8485, 0)
